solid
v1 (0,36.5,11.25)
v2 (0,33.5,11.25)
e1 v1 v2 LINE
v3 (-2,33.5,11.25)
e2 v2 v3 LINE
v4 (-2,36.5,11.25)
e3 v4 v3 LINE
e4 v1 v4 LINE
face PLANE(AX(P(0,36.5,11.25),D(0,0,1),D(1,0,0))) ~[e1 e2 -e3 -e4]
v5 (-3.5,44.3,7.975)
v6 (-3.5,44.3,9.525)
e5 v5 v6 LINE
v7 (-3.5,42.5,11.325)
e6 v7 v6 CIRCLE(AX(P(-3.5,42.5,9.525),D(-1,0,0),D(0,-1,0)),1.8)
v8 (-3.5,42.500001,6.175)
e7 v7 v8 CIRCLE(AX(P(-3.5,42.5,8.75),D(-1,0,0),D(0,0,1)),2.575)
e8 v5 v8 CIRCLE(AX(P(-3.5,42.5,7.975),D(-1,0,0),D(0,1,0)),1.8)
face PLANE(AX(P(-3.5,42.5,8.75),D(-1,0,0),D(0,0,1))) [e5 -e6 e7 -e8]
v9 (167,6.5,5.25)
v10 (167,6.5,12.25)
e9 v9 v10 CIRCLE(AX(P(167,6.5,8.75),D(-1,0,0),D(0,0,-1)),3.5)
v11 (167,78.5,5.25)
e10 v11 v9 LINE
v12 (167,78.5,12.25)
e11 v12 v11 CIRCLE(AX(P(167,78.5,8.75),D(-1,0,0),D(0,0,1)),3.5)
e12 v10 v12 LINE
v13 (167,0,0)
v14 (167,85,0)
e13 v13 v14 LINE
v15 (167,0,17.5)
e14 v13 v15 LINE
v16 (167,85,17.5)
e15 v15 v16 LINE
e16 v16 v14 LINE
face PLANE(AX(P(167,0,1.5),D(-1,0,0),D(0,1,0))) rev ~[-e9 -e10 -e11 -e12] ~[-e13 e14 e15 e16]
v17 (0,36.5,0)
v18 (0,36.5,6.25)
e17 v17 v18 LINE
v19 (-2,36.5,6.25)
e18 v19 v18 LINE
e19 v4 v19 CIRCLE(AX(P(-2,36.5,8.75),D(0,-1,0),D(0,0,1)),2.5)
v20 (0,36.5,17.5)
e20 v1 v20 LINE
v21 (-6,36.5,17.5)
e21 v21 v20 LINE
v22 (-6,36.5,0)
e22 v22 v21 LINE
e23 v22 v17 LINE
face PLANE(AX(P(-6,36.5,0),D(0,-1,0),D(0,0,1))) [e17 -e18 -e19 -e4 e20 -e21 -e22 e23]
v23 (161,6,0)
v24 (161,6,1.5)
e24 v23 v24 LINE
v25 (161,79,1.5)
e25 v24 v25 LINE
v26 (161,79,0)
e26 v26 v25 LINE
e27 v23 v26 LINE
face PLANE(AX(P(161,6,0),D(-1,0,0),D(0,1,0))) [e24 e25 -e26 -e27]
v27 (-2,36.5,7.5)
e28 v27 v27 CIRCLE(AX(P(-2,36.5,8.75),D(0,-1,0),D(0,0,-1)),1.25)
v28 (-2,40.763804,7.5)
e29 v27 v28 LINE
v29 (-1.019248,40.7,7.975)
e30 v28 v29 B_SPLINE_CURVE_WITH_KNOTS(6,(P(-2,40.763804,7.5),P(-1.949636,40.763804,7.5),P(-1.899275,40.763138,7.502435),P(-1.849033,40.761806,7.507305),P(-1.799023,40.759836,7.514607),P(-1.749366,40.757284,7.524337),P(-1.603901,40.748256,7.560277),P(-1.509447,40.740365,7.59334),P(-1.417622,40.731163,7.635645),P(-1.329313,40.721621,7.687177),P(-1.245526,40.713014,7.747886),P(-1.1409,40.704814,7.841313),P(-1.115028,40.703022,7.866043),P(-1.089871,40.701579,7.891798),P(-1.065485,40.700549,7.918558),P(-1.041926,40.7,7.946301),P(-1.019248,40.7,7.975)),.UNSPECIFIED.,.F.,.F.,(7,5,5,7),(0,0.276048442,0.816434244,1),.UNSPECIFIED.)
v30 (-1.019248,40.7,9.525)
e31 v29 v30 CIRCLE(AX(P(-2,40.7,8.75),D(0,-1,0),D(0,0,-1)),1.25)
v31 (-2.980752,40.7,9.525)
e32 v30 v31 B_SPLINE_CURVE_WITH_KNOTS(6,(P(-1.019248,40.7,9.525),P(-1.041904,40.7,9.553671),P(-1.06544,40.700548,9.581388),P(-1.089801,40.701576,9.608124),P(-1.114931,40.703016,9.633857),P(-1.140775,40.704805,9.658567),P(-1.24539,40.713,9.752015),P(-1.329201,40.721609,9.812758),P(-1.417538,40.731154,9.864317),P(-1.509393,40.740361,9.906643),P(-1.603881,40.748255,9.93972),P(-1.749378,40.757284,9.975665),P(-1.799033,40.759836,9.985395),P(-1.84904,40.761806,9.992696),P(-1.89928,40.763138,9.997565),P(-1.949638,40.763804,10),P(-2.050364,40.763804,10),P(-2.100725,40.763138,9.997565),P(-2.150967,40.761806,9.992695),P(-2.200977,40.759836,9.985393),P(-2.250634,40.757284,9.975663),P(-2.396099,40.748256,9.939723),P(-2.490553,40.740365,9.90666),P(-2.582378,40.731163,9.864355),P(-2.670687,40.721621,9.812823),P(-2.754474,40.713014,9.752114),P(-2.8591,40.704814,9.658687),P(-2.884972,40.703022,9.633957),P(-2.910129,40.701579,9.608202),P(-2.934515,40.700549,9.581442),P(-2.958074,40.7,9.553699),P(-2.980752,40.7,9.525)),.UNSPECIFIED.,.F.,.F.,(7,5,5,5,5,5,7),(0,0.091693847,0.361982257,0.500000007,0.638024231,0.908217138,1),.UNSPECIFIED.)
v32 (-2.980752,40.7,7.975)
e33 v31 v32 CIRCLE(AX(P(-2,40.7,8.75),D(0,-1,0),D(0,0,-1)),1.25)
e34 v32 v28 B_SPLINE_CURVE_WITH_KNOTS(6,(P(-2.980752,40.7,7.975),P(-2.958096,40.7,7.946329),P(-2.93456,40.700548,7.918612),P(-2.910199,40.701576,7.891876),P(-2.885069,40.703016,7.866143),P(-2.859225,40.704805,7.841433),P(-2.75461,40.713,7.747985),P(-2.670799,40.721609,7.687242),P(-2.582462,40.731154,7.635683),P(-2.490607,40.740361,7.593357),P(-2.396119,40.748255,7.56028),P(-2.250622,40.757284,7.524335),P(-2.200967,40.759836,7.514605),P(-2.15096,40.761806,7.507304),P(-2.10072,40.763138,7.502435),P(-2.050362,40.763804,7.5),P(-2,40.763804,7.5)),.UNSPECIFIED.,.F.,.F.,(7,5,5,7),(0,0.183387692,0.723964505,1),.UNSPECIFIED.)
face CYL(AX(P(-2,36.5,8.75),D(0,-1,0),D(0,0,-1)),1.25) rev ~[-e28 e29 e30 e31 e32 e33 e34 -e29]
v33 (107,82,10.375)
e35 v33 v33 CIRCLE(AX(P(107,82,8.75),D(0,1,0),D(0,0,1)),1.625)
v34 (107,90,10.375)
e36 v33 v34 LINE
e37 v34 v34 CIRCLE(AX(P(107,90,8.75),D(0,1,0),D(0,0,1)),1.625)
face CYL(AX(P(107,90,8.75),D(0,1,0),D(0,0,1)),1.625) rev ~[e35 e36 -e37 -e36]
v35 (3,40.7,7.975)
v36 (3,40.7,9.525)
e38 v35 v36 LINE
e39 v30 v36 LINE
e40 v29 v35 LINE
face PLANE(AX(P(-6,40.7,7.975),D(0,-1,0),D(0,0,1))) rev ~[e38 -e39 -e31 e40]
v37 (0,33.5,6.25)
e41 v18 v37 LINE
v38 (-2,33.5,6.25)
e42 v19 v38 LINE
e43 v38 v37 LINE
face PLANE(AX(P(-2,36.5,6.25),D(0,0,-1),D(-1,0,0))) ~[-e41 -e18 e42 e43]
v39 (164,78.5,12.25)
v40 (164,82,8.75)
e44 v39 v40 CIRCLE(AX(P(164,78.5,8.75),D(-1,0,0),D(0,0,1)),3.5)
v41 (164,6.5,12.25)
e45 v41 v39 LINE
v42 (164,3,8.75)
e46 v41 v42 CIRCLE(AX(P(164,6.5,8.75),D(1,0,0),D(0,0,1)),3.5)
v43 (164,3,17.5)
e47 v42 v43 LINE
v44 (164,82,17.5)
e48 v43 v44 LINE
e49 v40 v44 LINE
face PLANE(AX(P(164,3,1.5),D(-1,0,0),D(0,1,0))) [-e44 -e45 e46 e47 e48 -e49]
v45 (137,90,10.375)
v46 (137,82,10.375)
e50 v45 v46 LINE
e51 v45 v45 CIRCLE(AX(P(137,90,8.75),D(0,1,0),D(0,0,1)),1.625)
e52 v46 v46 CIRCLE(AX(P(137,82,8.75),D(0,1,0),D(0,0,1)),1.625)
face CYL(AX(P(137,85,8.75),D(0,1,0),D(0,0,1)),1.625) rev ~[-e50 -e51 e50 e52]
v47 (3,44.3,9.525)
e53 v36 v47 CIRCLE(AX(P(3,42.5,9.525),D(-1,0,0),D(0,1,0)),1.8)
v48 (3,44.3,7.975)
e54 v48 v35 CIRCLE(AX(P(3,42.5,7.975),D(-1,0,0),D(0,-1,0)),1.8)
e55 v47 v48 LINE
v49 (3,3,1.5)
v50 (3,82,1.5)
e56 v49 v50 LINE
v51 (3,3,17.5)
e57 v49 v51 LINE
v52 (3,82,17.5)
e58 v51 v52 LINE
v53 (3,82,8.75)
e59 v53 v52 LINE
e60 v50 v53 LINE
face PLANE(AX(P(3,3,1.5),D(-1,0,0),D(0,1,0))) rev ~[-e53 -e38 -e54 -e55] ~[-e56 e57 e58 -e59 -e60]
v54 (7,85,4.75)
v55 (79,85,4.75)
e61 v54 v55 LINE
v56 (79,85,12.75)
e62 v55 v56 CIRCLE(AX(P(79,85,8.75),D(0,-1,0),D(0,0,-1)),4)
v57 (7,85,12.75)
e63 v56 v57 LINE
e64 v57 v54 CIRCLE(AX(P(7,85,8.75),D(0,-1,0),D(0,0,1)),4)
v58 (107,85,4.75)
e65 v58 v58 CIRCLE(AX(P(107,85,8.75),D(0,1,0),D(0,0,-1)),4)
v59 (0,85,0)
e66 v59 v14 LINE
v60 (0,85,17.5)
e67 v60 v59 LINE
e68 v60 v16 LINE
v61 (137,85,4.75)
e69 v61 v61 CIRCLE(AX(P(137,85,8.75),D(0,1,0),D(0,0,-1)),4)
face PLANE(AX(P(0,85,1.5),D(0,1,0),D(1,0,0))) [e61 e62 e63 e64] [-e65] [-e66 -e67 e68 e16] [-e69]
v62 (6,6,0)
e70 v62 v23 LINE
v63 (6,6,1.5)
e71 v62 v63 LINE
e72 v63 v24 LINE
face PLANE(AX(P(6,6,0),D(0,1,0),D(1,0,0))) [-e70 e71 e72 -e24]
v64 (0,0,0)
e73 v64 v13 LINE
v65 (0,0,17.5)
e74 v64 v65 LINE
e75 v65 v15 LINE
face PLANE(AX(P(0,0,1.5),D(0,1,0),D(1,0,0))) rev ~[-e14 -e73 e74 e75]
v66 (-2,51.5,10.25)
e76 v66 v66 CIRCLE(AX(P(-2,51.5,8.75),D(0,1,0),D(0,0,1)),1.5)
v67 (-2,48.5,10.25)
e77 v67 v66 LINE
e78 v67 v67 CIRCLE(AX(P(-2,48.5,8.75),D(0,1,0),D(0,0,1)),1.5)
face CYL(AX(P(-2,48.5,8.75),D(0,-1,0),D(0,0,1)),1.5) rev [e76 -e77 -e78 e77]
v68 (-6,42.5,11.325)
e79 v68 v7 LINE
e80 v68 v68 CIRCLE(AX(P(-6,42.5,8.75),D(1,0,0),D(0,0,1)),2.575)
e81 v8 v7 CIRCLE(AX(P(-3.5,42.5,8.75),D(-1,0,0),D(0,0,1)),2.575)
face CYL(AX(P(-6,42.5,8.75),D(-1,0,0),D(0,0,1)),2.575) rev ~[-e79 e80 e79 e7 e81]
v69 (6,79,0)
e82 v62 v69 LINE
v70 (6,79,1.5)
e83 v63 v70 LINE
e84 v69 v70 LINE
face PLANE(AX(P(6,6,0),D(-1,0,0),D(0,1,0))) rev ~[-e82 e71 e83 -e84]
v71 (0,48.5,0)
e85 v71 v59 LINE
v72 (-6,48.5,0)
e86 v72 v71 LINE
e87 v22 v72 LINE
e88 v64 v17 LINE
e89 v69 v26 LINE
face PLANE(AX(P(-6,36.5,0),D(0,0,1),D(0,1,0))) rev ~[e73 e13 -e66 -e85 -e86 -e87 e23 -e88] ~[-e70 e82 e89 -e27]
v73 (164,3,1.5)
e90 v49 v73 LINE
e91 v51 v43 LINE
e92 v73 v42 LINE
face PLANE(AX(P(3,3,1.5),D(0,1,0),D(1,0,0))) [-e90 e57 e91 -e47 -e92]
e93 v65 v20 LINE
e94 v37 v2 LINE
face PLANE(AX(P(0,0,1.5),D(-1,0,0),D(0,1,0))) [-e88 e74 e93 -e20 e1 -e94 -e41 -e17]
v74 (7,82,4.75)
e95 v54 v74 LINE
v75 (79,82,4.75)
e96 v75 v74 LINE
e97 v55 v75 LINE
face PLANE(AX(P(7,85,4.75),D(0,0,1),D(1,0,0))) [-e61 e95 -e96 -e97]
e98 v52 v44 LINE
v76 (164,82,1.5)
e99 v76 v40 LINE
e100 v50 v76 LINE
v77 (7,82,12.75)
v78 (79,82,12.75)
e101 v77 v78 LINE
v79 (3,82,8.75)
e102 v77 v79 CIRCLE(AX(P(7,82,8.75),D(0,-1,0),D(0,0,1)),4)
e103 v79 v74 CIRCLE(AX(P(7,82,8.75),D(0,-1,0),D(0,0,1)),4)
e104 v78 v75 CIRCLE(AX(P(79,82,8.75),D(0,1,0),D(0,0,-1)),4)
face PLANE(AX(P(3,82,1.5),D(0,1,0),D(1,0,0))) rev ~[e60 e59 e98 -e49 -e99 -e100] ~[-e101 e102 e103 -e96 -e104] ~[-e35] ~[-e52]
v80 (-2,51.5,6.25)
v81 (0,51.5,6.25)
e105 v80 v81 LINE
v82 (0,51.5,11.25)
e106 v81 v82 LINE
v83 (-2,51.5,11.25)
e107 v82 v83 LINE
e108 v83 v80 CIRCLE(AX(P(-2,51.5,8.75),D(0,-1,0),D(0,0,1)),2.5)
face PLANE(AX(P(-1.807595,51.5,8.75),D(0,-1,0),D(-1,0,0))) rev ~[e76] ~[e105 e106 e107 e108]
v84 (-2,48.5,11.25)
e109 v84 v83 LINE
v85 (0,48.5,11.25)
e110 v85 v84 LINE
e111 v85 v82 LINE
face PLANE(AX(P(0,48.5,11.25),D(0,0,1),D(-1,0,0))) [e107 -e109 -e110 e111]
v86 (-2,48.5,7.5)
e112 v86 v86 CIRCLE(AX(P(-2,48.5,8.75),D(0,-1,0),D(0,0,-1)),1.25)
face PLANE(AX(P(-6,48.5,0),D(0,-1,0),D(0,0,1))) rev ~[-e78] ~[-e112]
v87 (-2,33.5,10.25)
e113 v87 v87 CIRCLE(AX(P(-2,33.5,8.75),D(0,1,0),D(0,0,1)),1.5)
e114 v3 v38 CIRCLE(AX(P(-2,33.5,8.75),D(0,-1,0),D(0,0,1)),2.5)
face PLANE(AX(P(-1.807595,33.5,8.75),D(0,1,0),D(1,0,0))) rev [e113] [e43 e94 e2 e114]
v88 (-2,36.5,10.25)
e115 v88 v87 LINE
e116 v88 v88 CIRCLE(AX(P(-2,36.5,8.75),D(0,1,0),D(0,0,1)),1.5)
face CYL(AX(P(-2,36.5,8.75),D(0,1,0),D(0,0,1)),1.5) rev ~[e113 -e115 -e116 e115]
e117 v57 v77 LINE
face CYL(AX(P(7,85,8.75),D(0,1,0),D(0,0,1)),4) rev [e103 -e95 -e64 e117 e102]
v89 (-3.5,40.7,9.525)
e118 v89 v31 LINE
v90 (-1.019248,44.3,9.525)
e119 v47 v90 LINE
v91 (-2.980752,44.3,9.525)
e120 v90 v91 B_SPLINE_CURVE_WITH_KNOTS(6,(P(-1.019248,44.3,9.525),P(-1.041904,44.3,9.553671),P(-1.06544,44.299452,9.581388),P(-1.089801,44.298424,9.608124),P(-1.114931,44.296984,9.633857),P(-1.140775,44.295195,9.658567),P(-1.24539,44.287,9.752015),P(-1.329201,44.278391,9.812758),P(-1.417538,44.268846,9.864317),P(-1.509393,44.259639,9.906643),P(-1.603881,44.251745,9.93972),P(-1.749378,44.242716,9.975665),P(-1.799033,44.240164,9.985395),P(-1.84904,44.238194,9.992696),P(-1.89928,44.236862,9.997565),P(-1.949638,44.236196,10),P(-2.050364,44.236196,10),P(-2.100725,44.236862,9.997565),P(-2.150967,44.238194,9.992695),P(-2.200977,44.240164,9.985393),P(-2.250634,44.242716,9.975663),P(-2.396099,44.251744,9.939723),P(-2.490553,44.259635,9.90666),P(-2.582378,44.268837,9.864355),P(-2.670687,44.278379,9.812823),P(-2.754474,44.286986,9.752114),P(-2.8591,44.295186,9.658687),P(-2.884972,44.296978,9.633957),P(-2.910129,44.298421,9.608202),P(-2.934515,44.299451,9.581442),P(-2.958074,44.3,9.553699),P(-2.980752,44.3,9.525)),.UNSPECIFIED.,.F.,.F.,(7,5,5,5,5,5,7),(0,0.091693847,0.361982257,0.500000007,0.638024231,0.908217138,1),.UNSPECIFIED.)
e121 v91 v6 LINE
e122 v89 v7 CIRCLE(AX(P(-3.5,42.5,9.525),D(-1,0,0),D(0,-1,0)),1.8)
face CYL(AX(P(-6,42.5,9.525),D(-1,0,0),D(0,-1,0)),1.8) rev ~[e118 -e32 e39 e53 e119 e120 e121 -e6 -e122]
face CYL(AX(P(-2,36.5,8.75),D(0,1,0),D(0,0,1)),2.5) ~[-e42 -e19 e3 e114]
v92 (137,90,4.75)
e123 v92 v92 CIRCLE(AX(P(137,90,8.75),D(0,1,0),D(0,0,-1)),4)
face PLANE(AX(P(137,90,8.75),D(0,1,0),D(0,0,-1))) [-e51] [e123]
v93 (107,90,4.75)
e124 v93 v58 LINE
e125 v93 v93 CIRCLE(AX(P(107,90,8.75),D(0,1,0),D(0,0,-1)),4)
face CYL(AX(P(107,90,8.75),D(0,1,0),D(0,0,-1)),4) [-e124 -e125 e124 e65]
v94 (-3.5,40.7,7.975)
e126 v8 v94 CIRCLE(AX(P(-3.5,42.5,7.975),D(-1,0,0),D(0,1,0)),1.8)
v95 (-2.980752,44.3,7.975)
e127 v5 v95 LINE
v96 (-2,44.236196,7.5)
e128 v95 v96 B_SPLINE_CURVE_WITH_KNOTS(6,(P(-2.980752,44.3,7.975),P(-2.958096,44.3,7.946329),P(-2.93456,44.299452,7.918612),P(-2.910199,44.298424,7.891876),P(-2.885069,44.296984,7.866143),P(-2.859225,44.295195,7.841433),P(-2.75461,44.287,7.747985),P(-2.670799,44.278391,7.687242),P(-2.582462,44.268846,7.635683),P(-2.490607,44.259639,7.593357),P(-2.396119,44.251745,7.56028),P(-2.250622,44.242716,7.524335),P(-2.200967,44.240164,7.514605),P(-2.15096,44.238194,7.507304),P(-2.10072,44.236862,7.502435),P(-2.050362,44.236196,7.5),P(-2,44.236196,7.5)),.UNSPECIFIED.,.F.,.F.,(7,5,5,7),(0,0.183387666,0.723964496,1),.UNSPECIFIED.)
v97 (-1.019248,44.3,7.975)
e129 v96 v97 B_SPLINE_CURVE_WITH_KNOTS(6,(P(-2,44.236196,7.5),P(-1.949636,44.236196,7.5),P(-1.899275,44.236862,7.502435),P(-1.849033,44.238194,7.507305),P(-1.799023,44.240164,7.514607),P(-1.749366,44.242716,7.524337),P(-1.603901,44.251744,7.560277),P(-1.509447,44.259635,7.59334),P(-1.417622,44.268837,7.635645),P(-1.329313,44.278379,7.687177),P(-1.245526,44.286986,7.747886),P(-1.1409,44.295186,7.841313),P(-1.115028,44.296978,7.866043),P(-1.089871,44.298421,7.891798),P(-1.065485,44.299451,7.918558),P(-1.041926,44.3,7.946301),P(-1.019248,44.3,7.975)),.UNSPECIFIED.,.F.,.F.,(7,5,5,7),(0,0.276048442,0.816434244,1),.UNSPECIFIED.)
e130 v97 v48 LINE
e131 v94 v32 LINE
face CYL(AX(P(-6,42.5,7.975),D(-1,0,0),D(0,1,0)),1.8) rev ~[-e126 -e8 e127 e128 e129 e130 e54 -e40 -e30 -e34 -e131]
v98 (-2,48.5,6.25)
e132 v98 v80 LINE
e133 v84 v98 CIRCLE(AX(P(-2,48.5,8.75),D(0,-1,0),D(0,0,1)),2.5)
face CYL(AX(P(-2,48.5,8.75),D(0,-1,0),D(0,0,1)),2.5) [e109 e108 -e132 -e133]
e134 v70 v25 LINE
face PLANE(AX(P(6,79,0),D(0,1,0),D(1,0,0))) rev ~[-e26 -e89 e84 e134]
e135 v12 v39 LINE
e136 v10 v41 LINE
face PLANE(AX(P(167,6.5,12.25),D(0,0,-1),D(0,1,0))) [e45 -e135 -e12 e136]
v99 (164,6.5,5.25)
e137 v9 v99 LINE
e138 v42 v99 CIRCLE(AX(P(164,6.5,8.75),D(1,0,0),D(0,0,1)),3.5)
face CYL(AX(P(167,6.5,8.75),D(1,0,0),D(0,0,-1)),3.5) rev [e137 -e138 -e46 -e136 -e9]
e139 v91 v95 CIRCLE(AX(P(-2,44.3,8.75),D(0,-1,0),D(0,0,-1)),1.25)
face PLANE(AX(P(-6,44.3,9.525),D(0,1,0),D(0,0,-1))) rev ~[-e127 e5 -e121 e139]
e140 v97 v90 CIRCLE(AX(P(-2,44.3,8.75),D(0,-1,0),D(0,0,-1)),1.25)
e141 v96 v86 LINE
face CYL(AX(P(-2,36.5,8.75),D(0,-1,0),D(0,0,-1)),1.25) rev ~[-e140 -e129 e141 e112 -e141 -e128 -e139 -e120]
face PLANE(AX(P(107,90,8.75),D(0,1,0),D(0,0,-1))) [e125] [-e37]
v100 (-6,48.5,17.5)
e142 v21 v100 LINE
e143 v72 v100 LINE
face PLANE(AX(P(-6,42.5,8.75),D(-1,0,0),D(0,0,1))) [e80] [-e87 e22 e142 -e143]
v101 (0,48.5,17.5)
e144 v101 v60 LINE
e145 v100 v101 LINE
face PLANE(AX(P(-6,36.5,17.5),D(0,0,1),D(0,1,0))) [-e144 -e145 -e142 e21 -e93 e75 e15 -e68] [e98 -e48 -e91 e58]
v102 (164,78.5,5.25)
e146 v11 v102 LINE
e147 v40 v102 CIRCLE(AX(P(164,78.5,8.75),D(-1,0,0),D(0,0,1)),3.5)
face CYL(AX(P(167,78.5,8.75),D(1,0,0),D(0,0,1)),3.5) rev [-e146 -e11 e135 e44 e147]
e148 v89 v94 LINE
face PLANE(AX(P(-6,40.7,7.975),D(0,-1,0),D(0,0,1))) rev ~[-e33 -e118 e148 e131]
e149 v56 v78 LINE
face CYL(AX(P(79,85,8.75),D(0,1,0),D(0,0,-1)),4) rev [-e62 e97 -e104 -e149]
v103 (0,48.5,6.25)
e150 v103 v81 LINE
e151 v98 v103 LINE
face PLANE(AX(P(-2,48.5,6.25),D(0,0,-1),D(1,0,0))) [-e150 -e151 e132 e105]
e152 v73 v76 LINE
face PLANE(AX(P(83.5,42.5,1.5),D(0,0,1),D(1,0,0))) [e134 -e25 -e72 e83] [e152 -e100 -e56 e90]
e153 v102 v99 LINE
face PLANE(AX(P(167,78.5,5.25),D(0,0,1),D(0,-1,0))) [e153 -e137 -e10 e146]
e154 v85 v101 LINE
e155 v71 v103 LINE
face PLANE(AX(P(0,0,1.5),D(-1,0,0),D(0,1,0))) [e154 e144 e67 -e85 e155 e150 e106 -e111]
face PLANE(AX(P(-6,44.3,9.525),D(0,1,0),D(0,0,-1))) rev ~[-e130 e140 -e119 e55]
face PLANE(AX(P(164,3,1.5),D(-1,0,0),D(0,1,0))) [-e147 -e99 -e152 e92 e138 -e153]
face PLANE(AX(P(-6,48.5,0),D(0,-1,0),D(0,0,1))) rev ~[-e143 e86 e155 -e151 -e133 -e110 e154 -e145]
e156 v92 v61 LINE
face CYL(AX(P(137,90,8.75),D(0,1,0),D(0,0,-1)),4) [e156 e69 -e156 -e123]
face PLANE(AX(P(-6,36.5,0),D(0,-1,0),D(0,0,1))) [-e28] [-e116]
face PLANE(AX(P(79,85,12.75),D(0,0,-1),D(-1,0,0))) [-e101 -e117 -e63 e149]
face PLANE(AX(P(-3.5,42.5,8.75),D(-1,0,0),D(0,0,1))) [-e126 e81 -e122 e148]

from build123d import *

# Parameters (mm, degrees)
SKETCH1_W           = 167
SKETCH1_H           = 85
SKETCH1_W_2         = 155
SKETCH1_H_2         = 73
BOSS_EXTRUDE1_DEPTH = 1.5
SKETCH2_W           = 167
SKETCH2_H           = 85
SKETCH2_W_2         = 161
SKETCH2_H_2         = 79
EXTRUDE_THIN1_DEPTH = 16
CUT_EXTRUDE1_REACH  = 190.203
BOSS_EXTRUDE2_START = 6
SKETCH4_W           = 17.5
SKETCH4_H           = 12
BOSS_EXTRUDE2_DEPTH = 6
SKETCH5_R           = 2.575
CUT_EXTRUDE2_DEPTH  = 2.5
CUT_EXTRUDE6_REACH  = 176.778
SKETCH6_R           = 1.25
SKETCH7_R           = 1.5
BOSS_EXTRUDE3_DEPTH = 3
CUT_EXTRUDE7_REACH  = 190.203
SKETCH8_R           = 1.625
BOSS_EXTRUDE4_START = 5
SKETCH9_R           = 4
SKETCH9_R_2         = 1.625
BOSS_EXTRUDE4_DEPTH = 5
CUT_EXTRUDE8_REACH  = 197.794


with BuildPart() as part:
    # Sketch1 → Boss-Extrude1 (new body)
    with BuildSketch(Plane.XY):
        with Locations((83.5, 42.5)):
            Rectangle(SKETCH1_W, SKETCH1_H)
        with Locations((83.5, 42.5)):
            Rectangle(SKETCH1_W_2, SKETCH1_H_2, mode=Mode.SUBTRACT)
    extrude(amount=BOSS_EXTRUDE1_DEPTH)

    # Sketch2 → Extrude-Thin1 (add)
    with BuildSketch(Plane.XY.offset(1.5)):
        with Locations((83.5, 42.5)):
            Rectangle(SKETCH2_W, SKETCH2_H)
        with Locations((83.5, 42.5)):
            Rectangle(SKETCH2_W_2, SKETCH2_H_2, mode=Mode.SUBTRACT)
    extrude(amount=EXTRUDE_THIN1_DEPTH)

    # Sketch3 → Cut-Extrude1 (cut, up to next)
    with BuildSketch(Plane.ZY, mode=Mode.PRIVATE) as cut_extrude1_sk1:
        with BuildLine():
            Line((7.975, 44.3), (9.525, 44.3))
            ThreePointArc((9.525, 44.3), (11.325, 42.5), (9.525, 40.7))
            Line((9.525, 40.7), (7.975, 40.7))
            ThreePointArc((7.975, 40.7), (6.175, 42.5), (7.975, 44.3))
        make_face()
    cut_extrude1_tool1 = extrude(cut_extrude1_sk1.sketch, amount=-CUT_EXTRUDE1_REACH, mode=Mode.PRIVATE) & part.part
    add(cut_extrude1_tool1.solids().sort_by_distance((0, 42.5, 8.75))[0], mode=Mode.SUBTRACT)

    # Sketch4 → Boss-Extrude2 (add)
    with BuildSketch(Plane.ZY.offset(BOSS_EXTRUDE2_START)):
        with Locations((8.75, 42.5)):
            Rectangle(SKETCH4_W, SKETCH4_H)
        with BuildLine():
            Line((9.525, 44.3), (7.975, 44.3))
            ThreePointArc((7.975, 44.3), (6.175, 42.5), (7.975, 40.7))
            Line((7.975, 40.7), (9.525, 40.7))
            ThreePointArc((9.525, 40.7), (11.325, 42.5), (9.525, 44.3))
        make_face(mode=Mode.SUBTRACT)
    extrude(amount=-BOSS_EXTRUDE2_DEPTH)

    # Sketch5 → Cut-Extrude2 (cut)
    with BuildSketch(Plane.ZY.offset(6)):
        with Locations((8.75, 42.5)):
            Circle(SKETCH5_R)
    extrude(amount=-CUT_EXTRUDE2_DEPTH, mode=Mode.SUBTRACT)

    # Cut-Extrude6: up to this face of the body (flat: up to its plane)
    cut_extrude6_end = Plane(part.part.faces().sort_by_distance((-3, 48.5, 8.75))[0])
    # Sketch6 → Cut-Extrude6 (cut, up to the picked face)
    with BuildSketch(Plane.XZ.offset(-36.5), mode=Mode.PRIVATE) as cut_extrude6_sk1:
        with Locations(Location((-2, 8.75, 0), (0, 0, 270))):
            Circle(SKETCH6_R)
    cut_extrude6_tool1 = split(extrude(cut_extrude6_sk1.sketch, amount=-CUT_EXTRUDE6_REACH, mode=Mode.PRIVATE), bisect_by=cut_extrude6_end, keep=Keep.BOTH, mode=Mode.PRIVATE)
    add(cut_extrude6_tool1.solids().sort_by(Axis((-2, 36.5, 8.75), (0, 1, 0)))[0], mode=Mode.SUBTRACT)

    # Sketch7 → Boss-Extrude3 (add)
    with BuildSketch(Plane(origin=(0, 48.5, 0), x_dir=(1, 0, 0), z_dir=(0, 1, 0))):
        with BuildLine():
            Line((-2, -6.25), (0, -6.25))
            Line((0, -6.25), (0, -11.25))
            Line((0, -11.25), (-2, -11.25))
            ThreePointArc((-2, -11.25), (-4.5, -8.75), (-2, -6.25))
        make_face()
        with Locations(Location((-2, -8.75, 0), (0, 0, 270))):
            Circle(SKETCH7_R, mode=Mode.SUBTRACT)
    boss_extrude3 = extrude(amount=BOSS_EXTRUDE3_DEPTH)

    # Mirror1: Boss-Extrude3 across plane
    add(boss_extrude3.mirror(Plane.ZX.offset(42.5)))

    # Sketch8 → Cut-Extrude7 (cut, up to next)
    with BuildSketch(Plane(origin=(0, 85, 0), x_dir=(1, 0, 0), z_dir=(0, 1, 0)), mode=Mode.PRIVATE) as cut_extrude7_sk1:
        with Locations(Location((107, -8.75, 0), (0, 0, 270))):
            Circle(SKETCH8_R)
    cut_extrude7_tool1 = extrude(cut_extrude7_sk1.sketch, amount=-CUT_EXTRUDE7_REACH, mode=Mode.PRIVATE) & part.part
    # Sketch8 → Cut-Extrude7 (cut, up to next)
    with BuildSketch(Plane(origin=(0, 85, 0), x_dir=(1, 0, 0), z_dir=(0, 1, 0)), mode=Mode.PRIVATE) as cut_extrude7_sk2:
        with Locations(Location((137, -8.75, 0), (0, 0, 270))):
            Circle(SKETCH8_R)
    cut_extrude7_tool2 = extrude(cut_extrude7_sk2.sketch, amount=-CUT_EXTRUDE7_REACH, mode=Mode.PRIVATE) & part.part
    # Sketch8 → Cut-Extrude7 (cut, up to next)
    with BuildSketch(Plane(origin=(0, 85, 0), x_dir=(1, 0, 0), z_dir=(0, 1, 0)), mode=Mode.PRIVATE) as cut_extrude7_sk3:
        with BuildLine():
            Line((7, -4.75), (79, -4.75))
            ThreePointArc((79, -4.75), (83, -8.75), (79, -12.75))
            Line((79, -12.75), (7, -12.75))
            ThreePointArc((7, -12.75), (3, -8.75), (7, -4.75))
        make_face()
    cut_extrude7_tool3 = extrude(cut_extrude7_sk3.sketch, amount=-CUT_EXTRUDE7_REACH, mode=Mode.PRIVATE) & part.part
    add(cut_extrude7_tool1.solids().sort_by_distance((107, 85, 8.75))[0], mode=Mode.SUBTRACT)
    add(cut_extrude7_tool2.solids().sort_by_distance((137, 85, 8.75))[0], mode=Mode.SUBTRACT)
    add(cut_extrude7_tool3.solids().sort_by_distance((43, 85, 8.75))[0], mode=Mode.SUBTRACT)

    # Sketch9 → Boss-Extrude4 (add)
    # profile 1 of 2: a face of its own
    with BuildSketch(Plane(origin=(0, 85, 0), x_dir=(1, 0, 0), z_dir=(0, 1, 0)).offset(BOSS_EXTRUDE4_START)):
        with Locations(Location((107, -8.75, 0), (0, 0, 90))):
            Circle(SKETCH9_R)
        with Locations(Location((107, -8.75, 0), (0, 0, 270))):
            Circle(SKETCH9_R_2, mode=Mode.SUBTRACT)
    # profile 2 of 2: a face of its own
    with BuildSketch(Plane(origin=(0, 85, 0), x_dir=(1, 0, 0), z_dir=(0, 1, 0)).offset(BOSS_EXTRUDE4_START)):
        with Locations(Location((137, -8.75, 0), (0, 0, 90))):
            Circle(SKETCH9_R)
        with Locations(Location((137, -8.75, 0), (0, 0, 270))):
            Circle(SKETCH9_R_2, mode=Mode.SUBTRACT)
    extrude(amount=-BOSS_EXTRUDE4_DEPTH)

    # Sketch10 → Cut-Extrude8 (cut, up to next)
    with BuildSketch(Plane(origin=(167, 0, 0), x_dir=(0, 0, -1), z_dir=(1, 0, 0)), mode=Mode.PRIVATE) as cut_extrude8_sk1:
        with BuildLine():
            Line((-5.25, 78.5), (-5.25, 6.5))
            ThreePointArc((-5.25, 6.5), (-8.75, 3), (-12.25, 6.5))
            Line((-12.25, 6.5), (-12.25, 78.5))
            ThreePointArc((-12.25, 78.5), (-8.75, 82), (-5.25, 78.5))
        make_face()
    cut_extrude8_tool1 = extrude(cut_extrude8_sk1.sketch, amount=-CUT_EXTRUDE8_REACH, mode=Mode.PRIVATE) & part.part
    add(cut_extrude8_tool1.solids().sort_by_distance((167, 42.5, 8.75))[0], mode=Mode.SUBTRACT)


solid = part.part
